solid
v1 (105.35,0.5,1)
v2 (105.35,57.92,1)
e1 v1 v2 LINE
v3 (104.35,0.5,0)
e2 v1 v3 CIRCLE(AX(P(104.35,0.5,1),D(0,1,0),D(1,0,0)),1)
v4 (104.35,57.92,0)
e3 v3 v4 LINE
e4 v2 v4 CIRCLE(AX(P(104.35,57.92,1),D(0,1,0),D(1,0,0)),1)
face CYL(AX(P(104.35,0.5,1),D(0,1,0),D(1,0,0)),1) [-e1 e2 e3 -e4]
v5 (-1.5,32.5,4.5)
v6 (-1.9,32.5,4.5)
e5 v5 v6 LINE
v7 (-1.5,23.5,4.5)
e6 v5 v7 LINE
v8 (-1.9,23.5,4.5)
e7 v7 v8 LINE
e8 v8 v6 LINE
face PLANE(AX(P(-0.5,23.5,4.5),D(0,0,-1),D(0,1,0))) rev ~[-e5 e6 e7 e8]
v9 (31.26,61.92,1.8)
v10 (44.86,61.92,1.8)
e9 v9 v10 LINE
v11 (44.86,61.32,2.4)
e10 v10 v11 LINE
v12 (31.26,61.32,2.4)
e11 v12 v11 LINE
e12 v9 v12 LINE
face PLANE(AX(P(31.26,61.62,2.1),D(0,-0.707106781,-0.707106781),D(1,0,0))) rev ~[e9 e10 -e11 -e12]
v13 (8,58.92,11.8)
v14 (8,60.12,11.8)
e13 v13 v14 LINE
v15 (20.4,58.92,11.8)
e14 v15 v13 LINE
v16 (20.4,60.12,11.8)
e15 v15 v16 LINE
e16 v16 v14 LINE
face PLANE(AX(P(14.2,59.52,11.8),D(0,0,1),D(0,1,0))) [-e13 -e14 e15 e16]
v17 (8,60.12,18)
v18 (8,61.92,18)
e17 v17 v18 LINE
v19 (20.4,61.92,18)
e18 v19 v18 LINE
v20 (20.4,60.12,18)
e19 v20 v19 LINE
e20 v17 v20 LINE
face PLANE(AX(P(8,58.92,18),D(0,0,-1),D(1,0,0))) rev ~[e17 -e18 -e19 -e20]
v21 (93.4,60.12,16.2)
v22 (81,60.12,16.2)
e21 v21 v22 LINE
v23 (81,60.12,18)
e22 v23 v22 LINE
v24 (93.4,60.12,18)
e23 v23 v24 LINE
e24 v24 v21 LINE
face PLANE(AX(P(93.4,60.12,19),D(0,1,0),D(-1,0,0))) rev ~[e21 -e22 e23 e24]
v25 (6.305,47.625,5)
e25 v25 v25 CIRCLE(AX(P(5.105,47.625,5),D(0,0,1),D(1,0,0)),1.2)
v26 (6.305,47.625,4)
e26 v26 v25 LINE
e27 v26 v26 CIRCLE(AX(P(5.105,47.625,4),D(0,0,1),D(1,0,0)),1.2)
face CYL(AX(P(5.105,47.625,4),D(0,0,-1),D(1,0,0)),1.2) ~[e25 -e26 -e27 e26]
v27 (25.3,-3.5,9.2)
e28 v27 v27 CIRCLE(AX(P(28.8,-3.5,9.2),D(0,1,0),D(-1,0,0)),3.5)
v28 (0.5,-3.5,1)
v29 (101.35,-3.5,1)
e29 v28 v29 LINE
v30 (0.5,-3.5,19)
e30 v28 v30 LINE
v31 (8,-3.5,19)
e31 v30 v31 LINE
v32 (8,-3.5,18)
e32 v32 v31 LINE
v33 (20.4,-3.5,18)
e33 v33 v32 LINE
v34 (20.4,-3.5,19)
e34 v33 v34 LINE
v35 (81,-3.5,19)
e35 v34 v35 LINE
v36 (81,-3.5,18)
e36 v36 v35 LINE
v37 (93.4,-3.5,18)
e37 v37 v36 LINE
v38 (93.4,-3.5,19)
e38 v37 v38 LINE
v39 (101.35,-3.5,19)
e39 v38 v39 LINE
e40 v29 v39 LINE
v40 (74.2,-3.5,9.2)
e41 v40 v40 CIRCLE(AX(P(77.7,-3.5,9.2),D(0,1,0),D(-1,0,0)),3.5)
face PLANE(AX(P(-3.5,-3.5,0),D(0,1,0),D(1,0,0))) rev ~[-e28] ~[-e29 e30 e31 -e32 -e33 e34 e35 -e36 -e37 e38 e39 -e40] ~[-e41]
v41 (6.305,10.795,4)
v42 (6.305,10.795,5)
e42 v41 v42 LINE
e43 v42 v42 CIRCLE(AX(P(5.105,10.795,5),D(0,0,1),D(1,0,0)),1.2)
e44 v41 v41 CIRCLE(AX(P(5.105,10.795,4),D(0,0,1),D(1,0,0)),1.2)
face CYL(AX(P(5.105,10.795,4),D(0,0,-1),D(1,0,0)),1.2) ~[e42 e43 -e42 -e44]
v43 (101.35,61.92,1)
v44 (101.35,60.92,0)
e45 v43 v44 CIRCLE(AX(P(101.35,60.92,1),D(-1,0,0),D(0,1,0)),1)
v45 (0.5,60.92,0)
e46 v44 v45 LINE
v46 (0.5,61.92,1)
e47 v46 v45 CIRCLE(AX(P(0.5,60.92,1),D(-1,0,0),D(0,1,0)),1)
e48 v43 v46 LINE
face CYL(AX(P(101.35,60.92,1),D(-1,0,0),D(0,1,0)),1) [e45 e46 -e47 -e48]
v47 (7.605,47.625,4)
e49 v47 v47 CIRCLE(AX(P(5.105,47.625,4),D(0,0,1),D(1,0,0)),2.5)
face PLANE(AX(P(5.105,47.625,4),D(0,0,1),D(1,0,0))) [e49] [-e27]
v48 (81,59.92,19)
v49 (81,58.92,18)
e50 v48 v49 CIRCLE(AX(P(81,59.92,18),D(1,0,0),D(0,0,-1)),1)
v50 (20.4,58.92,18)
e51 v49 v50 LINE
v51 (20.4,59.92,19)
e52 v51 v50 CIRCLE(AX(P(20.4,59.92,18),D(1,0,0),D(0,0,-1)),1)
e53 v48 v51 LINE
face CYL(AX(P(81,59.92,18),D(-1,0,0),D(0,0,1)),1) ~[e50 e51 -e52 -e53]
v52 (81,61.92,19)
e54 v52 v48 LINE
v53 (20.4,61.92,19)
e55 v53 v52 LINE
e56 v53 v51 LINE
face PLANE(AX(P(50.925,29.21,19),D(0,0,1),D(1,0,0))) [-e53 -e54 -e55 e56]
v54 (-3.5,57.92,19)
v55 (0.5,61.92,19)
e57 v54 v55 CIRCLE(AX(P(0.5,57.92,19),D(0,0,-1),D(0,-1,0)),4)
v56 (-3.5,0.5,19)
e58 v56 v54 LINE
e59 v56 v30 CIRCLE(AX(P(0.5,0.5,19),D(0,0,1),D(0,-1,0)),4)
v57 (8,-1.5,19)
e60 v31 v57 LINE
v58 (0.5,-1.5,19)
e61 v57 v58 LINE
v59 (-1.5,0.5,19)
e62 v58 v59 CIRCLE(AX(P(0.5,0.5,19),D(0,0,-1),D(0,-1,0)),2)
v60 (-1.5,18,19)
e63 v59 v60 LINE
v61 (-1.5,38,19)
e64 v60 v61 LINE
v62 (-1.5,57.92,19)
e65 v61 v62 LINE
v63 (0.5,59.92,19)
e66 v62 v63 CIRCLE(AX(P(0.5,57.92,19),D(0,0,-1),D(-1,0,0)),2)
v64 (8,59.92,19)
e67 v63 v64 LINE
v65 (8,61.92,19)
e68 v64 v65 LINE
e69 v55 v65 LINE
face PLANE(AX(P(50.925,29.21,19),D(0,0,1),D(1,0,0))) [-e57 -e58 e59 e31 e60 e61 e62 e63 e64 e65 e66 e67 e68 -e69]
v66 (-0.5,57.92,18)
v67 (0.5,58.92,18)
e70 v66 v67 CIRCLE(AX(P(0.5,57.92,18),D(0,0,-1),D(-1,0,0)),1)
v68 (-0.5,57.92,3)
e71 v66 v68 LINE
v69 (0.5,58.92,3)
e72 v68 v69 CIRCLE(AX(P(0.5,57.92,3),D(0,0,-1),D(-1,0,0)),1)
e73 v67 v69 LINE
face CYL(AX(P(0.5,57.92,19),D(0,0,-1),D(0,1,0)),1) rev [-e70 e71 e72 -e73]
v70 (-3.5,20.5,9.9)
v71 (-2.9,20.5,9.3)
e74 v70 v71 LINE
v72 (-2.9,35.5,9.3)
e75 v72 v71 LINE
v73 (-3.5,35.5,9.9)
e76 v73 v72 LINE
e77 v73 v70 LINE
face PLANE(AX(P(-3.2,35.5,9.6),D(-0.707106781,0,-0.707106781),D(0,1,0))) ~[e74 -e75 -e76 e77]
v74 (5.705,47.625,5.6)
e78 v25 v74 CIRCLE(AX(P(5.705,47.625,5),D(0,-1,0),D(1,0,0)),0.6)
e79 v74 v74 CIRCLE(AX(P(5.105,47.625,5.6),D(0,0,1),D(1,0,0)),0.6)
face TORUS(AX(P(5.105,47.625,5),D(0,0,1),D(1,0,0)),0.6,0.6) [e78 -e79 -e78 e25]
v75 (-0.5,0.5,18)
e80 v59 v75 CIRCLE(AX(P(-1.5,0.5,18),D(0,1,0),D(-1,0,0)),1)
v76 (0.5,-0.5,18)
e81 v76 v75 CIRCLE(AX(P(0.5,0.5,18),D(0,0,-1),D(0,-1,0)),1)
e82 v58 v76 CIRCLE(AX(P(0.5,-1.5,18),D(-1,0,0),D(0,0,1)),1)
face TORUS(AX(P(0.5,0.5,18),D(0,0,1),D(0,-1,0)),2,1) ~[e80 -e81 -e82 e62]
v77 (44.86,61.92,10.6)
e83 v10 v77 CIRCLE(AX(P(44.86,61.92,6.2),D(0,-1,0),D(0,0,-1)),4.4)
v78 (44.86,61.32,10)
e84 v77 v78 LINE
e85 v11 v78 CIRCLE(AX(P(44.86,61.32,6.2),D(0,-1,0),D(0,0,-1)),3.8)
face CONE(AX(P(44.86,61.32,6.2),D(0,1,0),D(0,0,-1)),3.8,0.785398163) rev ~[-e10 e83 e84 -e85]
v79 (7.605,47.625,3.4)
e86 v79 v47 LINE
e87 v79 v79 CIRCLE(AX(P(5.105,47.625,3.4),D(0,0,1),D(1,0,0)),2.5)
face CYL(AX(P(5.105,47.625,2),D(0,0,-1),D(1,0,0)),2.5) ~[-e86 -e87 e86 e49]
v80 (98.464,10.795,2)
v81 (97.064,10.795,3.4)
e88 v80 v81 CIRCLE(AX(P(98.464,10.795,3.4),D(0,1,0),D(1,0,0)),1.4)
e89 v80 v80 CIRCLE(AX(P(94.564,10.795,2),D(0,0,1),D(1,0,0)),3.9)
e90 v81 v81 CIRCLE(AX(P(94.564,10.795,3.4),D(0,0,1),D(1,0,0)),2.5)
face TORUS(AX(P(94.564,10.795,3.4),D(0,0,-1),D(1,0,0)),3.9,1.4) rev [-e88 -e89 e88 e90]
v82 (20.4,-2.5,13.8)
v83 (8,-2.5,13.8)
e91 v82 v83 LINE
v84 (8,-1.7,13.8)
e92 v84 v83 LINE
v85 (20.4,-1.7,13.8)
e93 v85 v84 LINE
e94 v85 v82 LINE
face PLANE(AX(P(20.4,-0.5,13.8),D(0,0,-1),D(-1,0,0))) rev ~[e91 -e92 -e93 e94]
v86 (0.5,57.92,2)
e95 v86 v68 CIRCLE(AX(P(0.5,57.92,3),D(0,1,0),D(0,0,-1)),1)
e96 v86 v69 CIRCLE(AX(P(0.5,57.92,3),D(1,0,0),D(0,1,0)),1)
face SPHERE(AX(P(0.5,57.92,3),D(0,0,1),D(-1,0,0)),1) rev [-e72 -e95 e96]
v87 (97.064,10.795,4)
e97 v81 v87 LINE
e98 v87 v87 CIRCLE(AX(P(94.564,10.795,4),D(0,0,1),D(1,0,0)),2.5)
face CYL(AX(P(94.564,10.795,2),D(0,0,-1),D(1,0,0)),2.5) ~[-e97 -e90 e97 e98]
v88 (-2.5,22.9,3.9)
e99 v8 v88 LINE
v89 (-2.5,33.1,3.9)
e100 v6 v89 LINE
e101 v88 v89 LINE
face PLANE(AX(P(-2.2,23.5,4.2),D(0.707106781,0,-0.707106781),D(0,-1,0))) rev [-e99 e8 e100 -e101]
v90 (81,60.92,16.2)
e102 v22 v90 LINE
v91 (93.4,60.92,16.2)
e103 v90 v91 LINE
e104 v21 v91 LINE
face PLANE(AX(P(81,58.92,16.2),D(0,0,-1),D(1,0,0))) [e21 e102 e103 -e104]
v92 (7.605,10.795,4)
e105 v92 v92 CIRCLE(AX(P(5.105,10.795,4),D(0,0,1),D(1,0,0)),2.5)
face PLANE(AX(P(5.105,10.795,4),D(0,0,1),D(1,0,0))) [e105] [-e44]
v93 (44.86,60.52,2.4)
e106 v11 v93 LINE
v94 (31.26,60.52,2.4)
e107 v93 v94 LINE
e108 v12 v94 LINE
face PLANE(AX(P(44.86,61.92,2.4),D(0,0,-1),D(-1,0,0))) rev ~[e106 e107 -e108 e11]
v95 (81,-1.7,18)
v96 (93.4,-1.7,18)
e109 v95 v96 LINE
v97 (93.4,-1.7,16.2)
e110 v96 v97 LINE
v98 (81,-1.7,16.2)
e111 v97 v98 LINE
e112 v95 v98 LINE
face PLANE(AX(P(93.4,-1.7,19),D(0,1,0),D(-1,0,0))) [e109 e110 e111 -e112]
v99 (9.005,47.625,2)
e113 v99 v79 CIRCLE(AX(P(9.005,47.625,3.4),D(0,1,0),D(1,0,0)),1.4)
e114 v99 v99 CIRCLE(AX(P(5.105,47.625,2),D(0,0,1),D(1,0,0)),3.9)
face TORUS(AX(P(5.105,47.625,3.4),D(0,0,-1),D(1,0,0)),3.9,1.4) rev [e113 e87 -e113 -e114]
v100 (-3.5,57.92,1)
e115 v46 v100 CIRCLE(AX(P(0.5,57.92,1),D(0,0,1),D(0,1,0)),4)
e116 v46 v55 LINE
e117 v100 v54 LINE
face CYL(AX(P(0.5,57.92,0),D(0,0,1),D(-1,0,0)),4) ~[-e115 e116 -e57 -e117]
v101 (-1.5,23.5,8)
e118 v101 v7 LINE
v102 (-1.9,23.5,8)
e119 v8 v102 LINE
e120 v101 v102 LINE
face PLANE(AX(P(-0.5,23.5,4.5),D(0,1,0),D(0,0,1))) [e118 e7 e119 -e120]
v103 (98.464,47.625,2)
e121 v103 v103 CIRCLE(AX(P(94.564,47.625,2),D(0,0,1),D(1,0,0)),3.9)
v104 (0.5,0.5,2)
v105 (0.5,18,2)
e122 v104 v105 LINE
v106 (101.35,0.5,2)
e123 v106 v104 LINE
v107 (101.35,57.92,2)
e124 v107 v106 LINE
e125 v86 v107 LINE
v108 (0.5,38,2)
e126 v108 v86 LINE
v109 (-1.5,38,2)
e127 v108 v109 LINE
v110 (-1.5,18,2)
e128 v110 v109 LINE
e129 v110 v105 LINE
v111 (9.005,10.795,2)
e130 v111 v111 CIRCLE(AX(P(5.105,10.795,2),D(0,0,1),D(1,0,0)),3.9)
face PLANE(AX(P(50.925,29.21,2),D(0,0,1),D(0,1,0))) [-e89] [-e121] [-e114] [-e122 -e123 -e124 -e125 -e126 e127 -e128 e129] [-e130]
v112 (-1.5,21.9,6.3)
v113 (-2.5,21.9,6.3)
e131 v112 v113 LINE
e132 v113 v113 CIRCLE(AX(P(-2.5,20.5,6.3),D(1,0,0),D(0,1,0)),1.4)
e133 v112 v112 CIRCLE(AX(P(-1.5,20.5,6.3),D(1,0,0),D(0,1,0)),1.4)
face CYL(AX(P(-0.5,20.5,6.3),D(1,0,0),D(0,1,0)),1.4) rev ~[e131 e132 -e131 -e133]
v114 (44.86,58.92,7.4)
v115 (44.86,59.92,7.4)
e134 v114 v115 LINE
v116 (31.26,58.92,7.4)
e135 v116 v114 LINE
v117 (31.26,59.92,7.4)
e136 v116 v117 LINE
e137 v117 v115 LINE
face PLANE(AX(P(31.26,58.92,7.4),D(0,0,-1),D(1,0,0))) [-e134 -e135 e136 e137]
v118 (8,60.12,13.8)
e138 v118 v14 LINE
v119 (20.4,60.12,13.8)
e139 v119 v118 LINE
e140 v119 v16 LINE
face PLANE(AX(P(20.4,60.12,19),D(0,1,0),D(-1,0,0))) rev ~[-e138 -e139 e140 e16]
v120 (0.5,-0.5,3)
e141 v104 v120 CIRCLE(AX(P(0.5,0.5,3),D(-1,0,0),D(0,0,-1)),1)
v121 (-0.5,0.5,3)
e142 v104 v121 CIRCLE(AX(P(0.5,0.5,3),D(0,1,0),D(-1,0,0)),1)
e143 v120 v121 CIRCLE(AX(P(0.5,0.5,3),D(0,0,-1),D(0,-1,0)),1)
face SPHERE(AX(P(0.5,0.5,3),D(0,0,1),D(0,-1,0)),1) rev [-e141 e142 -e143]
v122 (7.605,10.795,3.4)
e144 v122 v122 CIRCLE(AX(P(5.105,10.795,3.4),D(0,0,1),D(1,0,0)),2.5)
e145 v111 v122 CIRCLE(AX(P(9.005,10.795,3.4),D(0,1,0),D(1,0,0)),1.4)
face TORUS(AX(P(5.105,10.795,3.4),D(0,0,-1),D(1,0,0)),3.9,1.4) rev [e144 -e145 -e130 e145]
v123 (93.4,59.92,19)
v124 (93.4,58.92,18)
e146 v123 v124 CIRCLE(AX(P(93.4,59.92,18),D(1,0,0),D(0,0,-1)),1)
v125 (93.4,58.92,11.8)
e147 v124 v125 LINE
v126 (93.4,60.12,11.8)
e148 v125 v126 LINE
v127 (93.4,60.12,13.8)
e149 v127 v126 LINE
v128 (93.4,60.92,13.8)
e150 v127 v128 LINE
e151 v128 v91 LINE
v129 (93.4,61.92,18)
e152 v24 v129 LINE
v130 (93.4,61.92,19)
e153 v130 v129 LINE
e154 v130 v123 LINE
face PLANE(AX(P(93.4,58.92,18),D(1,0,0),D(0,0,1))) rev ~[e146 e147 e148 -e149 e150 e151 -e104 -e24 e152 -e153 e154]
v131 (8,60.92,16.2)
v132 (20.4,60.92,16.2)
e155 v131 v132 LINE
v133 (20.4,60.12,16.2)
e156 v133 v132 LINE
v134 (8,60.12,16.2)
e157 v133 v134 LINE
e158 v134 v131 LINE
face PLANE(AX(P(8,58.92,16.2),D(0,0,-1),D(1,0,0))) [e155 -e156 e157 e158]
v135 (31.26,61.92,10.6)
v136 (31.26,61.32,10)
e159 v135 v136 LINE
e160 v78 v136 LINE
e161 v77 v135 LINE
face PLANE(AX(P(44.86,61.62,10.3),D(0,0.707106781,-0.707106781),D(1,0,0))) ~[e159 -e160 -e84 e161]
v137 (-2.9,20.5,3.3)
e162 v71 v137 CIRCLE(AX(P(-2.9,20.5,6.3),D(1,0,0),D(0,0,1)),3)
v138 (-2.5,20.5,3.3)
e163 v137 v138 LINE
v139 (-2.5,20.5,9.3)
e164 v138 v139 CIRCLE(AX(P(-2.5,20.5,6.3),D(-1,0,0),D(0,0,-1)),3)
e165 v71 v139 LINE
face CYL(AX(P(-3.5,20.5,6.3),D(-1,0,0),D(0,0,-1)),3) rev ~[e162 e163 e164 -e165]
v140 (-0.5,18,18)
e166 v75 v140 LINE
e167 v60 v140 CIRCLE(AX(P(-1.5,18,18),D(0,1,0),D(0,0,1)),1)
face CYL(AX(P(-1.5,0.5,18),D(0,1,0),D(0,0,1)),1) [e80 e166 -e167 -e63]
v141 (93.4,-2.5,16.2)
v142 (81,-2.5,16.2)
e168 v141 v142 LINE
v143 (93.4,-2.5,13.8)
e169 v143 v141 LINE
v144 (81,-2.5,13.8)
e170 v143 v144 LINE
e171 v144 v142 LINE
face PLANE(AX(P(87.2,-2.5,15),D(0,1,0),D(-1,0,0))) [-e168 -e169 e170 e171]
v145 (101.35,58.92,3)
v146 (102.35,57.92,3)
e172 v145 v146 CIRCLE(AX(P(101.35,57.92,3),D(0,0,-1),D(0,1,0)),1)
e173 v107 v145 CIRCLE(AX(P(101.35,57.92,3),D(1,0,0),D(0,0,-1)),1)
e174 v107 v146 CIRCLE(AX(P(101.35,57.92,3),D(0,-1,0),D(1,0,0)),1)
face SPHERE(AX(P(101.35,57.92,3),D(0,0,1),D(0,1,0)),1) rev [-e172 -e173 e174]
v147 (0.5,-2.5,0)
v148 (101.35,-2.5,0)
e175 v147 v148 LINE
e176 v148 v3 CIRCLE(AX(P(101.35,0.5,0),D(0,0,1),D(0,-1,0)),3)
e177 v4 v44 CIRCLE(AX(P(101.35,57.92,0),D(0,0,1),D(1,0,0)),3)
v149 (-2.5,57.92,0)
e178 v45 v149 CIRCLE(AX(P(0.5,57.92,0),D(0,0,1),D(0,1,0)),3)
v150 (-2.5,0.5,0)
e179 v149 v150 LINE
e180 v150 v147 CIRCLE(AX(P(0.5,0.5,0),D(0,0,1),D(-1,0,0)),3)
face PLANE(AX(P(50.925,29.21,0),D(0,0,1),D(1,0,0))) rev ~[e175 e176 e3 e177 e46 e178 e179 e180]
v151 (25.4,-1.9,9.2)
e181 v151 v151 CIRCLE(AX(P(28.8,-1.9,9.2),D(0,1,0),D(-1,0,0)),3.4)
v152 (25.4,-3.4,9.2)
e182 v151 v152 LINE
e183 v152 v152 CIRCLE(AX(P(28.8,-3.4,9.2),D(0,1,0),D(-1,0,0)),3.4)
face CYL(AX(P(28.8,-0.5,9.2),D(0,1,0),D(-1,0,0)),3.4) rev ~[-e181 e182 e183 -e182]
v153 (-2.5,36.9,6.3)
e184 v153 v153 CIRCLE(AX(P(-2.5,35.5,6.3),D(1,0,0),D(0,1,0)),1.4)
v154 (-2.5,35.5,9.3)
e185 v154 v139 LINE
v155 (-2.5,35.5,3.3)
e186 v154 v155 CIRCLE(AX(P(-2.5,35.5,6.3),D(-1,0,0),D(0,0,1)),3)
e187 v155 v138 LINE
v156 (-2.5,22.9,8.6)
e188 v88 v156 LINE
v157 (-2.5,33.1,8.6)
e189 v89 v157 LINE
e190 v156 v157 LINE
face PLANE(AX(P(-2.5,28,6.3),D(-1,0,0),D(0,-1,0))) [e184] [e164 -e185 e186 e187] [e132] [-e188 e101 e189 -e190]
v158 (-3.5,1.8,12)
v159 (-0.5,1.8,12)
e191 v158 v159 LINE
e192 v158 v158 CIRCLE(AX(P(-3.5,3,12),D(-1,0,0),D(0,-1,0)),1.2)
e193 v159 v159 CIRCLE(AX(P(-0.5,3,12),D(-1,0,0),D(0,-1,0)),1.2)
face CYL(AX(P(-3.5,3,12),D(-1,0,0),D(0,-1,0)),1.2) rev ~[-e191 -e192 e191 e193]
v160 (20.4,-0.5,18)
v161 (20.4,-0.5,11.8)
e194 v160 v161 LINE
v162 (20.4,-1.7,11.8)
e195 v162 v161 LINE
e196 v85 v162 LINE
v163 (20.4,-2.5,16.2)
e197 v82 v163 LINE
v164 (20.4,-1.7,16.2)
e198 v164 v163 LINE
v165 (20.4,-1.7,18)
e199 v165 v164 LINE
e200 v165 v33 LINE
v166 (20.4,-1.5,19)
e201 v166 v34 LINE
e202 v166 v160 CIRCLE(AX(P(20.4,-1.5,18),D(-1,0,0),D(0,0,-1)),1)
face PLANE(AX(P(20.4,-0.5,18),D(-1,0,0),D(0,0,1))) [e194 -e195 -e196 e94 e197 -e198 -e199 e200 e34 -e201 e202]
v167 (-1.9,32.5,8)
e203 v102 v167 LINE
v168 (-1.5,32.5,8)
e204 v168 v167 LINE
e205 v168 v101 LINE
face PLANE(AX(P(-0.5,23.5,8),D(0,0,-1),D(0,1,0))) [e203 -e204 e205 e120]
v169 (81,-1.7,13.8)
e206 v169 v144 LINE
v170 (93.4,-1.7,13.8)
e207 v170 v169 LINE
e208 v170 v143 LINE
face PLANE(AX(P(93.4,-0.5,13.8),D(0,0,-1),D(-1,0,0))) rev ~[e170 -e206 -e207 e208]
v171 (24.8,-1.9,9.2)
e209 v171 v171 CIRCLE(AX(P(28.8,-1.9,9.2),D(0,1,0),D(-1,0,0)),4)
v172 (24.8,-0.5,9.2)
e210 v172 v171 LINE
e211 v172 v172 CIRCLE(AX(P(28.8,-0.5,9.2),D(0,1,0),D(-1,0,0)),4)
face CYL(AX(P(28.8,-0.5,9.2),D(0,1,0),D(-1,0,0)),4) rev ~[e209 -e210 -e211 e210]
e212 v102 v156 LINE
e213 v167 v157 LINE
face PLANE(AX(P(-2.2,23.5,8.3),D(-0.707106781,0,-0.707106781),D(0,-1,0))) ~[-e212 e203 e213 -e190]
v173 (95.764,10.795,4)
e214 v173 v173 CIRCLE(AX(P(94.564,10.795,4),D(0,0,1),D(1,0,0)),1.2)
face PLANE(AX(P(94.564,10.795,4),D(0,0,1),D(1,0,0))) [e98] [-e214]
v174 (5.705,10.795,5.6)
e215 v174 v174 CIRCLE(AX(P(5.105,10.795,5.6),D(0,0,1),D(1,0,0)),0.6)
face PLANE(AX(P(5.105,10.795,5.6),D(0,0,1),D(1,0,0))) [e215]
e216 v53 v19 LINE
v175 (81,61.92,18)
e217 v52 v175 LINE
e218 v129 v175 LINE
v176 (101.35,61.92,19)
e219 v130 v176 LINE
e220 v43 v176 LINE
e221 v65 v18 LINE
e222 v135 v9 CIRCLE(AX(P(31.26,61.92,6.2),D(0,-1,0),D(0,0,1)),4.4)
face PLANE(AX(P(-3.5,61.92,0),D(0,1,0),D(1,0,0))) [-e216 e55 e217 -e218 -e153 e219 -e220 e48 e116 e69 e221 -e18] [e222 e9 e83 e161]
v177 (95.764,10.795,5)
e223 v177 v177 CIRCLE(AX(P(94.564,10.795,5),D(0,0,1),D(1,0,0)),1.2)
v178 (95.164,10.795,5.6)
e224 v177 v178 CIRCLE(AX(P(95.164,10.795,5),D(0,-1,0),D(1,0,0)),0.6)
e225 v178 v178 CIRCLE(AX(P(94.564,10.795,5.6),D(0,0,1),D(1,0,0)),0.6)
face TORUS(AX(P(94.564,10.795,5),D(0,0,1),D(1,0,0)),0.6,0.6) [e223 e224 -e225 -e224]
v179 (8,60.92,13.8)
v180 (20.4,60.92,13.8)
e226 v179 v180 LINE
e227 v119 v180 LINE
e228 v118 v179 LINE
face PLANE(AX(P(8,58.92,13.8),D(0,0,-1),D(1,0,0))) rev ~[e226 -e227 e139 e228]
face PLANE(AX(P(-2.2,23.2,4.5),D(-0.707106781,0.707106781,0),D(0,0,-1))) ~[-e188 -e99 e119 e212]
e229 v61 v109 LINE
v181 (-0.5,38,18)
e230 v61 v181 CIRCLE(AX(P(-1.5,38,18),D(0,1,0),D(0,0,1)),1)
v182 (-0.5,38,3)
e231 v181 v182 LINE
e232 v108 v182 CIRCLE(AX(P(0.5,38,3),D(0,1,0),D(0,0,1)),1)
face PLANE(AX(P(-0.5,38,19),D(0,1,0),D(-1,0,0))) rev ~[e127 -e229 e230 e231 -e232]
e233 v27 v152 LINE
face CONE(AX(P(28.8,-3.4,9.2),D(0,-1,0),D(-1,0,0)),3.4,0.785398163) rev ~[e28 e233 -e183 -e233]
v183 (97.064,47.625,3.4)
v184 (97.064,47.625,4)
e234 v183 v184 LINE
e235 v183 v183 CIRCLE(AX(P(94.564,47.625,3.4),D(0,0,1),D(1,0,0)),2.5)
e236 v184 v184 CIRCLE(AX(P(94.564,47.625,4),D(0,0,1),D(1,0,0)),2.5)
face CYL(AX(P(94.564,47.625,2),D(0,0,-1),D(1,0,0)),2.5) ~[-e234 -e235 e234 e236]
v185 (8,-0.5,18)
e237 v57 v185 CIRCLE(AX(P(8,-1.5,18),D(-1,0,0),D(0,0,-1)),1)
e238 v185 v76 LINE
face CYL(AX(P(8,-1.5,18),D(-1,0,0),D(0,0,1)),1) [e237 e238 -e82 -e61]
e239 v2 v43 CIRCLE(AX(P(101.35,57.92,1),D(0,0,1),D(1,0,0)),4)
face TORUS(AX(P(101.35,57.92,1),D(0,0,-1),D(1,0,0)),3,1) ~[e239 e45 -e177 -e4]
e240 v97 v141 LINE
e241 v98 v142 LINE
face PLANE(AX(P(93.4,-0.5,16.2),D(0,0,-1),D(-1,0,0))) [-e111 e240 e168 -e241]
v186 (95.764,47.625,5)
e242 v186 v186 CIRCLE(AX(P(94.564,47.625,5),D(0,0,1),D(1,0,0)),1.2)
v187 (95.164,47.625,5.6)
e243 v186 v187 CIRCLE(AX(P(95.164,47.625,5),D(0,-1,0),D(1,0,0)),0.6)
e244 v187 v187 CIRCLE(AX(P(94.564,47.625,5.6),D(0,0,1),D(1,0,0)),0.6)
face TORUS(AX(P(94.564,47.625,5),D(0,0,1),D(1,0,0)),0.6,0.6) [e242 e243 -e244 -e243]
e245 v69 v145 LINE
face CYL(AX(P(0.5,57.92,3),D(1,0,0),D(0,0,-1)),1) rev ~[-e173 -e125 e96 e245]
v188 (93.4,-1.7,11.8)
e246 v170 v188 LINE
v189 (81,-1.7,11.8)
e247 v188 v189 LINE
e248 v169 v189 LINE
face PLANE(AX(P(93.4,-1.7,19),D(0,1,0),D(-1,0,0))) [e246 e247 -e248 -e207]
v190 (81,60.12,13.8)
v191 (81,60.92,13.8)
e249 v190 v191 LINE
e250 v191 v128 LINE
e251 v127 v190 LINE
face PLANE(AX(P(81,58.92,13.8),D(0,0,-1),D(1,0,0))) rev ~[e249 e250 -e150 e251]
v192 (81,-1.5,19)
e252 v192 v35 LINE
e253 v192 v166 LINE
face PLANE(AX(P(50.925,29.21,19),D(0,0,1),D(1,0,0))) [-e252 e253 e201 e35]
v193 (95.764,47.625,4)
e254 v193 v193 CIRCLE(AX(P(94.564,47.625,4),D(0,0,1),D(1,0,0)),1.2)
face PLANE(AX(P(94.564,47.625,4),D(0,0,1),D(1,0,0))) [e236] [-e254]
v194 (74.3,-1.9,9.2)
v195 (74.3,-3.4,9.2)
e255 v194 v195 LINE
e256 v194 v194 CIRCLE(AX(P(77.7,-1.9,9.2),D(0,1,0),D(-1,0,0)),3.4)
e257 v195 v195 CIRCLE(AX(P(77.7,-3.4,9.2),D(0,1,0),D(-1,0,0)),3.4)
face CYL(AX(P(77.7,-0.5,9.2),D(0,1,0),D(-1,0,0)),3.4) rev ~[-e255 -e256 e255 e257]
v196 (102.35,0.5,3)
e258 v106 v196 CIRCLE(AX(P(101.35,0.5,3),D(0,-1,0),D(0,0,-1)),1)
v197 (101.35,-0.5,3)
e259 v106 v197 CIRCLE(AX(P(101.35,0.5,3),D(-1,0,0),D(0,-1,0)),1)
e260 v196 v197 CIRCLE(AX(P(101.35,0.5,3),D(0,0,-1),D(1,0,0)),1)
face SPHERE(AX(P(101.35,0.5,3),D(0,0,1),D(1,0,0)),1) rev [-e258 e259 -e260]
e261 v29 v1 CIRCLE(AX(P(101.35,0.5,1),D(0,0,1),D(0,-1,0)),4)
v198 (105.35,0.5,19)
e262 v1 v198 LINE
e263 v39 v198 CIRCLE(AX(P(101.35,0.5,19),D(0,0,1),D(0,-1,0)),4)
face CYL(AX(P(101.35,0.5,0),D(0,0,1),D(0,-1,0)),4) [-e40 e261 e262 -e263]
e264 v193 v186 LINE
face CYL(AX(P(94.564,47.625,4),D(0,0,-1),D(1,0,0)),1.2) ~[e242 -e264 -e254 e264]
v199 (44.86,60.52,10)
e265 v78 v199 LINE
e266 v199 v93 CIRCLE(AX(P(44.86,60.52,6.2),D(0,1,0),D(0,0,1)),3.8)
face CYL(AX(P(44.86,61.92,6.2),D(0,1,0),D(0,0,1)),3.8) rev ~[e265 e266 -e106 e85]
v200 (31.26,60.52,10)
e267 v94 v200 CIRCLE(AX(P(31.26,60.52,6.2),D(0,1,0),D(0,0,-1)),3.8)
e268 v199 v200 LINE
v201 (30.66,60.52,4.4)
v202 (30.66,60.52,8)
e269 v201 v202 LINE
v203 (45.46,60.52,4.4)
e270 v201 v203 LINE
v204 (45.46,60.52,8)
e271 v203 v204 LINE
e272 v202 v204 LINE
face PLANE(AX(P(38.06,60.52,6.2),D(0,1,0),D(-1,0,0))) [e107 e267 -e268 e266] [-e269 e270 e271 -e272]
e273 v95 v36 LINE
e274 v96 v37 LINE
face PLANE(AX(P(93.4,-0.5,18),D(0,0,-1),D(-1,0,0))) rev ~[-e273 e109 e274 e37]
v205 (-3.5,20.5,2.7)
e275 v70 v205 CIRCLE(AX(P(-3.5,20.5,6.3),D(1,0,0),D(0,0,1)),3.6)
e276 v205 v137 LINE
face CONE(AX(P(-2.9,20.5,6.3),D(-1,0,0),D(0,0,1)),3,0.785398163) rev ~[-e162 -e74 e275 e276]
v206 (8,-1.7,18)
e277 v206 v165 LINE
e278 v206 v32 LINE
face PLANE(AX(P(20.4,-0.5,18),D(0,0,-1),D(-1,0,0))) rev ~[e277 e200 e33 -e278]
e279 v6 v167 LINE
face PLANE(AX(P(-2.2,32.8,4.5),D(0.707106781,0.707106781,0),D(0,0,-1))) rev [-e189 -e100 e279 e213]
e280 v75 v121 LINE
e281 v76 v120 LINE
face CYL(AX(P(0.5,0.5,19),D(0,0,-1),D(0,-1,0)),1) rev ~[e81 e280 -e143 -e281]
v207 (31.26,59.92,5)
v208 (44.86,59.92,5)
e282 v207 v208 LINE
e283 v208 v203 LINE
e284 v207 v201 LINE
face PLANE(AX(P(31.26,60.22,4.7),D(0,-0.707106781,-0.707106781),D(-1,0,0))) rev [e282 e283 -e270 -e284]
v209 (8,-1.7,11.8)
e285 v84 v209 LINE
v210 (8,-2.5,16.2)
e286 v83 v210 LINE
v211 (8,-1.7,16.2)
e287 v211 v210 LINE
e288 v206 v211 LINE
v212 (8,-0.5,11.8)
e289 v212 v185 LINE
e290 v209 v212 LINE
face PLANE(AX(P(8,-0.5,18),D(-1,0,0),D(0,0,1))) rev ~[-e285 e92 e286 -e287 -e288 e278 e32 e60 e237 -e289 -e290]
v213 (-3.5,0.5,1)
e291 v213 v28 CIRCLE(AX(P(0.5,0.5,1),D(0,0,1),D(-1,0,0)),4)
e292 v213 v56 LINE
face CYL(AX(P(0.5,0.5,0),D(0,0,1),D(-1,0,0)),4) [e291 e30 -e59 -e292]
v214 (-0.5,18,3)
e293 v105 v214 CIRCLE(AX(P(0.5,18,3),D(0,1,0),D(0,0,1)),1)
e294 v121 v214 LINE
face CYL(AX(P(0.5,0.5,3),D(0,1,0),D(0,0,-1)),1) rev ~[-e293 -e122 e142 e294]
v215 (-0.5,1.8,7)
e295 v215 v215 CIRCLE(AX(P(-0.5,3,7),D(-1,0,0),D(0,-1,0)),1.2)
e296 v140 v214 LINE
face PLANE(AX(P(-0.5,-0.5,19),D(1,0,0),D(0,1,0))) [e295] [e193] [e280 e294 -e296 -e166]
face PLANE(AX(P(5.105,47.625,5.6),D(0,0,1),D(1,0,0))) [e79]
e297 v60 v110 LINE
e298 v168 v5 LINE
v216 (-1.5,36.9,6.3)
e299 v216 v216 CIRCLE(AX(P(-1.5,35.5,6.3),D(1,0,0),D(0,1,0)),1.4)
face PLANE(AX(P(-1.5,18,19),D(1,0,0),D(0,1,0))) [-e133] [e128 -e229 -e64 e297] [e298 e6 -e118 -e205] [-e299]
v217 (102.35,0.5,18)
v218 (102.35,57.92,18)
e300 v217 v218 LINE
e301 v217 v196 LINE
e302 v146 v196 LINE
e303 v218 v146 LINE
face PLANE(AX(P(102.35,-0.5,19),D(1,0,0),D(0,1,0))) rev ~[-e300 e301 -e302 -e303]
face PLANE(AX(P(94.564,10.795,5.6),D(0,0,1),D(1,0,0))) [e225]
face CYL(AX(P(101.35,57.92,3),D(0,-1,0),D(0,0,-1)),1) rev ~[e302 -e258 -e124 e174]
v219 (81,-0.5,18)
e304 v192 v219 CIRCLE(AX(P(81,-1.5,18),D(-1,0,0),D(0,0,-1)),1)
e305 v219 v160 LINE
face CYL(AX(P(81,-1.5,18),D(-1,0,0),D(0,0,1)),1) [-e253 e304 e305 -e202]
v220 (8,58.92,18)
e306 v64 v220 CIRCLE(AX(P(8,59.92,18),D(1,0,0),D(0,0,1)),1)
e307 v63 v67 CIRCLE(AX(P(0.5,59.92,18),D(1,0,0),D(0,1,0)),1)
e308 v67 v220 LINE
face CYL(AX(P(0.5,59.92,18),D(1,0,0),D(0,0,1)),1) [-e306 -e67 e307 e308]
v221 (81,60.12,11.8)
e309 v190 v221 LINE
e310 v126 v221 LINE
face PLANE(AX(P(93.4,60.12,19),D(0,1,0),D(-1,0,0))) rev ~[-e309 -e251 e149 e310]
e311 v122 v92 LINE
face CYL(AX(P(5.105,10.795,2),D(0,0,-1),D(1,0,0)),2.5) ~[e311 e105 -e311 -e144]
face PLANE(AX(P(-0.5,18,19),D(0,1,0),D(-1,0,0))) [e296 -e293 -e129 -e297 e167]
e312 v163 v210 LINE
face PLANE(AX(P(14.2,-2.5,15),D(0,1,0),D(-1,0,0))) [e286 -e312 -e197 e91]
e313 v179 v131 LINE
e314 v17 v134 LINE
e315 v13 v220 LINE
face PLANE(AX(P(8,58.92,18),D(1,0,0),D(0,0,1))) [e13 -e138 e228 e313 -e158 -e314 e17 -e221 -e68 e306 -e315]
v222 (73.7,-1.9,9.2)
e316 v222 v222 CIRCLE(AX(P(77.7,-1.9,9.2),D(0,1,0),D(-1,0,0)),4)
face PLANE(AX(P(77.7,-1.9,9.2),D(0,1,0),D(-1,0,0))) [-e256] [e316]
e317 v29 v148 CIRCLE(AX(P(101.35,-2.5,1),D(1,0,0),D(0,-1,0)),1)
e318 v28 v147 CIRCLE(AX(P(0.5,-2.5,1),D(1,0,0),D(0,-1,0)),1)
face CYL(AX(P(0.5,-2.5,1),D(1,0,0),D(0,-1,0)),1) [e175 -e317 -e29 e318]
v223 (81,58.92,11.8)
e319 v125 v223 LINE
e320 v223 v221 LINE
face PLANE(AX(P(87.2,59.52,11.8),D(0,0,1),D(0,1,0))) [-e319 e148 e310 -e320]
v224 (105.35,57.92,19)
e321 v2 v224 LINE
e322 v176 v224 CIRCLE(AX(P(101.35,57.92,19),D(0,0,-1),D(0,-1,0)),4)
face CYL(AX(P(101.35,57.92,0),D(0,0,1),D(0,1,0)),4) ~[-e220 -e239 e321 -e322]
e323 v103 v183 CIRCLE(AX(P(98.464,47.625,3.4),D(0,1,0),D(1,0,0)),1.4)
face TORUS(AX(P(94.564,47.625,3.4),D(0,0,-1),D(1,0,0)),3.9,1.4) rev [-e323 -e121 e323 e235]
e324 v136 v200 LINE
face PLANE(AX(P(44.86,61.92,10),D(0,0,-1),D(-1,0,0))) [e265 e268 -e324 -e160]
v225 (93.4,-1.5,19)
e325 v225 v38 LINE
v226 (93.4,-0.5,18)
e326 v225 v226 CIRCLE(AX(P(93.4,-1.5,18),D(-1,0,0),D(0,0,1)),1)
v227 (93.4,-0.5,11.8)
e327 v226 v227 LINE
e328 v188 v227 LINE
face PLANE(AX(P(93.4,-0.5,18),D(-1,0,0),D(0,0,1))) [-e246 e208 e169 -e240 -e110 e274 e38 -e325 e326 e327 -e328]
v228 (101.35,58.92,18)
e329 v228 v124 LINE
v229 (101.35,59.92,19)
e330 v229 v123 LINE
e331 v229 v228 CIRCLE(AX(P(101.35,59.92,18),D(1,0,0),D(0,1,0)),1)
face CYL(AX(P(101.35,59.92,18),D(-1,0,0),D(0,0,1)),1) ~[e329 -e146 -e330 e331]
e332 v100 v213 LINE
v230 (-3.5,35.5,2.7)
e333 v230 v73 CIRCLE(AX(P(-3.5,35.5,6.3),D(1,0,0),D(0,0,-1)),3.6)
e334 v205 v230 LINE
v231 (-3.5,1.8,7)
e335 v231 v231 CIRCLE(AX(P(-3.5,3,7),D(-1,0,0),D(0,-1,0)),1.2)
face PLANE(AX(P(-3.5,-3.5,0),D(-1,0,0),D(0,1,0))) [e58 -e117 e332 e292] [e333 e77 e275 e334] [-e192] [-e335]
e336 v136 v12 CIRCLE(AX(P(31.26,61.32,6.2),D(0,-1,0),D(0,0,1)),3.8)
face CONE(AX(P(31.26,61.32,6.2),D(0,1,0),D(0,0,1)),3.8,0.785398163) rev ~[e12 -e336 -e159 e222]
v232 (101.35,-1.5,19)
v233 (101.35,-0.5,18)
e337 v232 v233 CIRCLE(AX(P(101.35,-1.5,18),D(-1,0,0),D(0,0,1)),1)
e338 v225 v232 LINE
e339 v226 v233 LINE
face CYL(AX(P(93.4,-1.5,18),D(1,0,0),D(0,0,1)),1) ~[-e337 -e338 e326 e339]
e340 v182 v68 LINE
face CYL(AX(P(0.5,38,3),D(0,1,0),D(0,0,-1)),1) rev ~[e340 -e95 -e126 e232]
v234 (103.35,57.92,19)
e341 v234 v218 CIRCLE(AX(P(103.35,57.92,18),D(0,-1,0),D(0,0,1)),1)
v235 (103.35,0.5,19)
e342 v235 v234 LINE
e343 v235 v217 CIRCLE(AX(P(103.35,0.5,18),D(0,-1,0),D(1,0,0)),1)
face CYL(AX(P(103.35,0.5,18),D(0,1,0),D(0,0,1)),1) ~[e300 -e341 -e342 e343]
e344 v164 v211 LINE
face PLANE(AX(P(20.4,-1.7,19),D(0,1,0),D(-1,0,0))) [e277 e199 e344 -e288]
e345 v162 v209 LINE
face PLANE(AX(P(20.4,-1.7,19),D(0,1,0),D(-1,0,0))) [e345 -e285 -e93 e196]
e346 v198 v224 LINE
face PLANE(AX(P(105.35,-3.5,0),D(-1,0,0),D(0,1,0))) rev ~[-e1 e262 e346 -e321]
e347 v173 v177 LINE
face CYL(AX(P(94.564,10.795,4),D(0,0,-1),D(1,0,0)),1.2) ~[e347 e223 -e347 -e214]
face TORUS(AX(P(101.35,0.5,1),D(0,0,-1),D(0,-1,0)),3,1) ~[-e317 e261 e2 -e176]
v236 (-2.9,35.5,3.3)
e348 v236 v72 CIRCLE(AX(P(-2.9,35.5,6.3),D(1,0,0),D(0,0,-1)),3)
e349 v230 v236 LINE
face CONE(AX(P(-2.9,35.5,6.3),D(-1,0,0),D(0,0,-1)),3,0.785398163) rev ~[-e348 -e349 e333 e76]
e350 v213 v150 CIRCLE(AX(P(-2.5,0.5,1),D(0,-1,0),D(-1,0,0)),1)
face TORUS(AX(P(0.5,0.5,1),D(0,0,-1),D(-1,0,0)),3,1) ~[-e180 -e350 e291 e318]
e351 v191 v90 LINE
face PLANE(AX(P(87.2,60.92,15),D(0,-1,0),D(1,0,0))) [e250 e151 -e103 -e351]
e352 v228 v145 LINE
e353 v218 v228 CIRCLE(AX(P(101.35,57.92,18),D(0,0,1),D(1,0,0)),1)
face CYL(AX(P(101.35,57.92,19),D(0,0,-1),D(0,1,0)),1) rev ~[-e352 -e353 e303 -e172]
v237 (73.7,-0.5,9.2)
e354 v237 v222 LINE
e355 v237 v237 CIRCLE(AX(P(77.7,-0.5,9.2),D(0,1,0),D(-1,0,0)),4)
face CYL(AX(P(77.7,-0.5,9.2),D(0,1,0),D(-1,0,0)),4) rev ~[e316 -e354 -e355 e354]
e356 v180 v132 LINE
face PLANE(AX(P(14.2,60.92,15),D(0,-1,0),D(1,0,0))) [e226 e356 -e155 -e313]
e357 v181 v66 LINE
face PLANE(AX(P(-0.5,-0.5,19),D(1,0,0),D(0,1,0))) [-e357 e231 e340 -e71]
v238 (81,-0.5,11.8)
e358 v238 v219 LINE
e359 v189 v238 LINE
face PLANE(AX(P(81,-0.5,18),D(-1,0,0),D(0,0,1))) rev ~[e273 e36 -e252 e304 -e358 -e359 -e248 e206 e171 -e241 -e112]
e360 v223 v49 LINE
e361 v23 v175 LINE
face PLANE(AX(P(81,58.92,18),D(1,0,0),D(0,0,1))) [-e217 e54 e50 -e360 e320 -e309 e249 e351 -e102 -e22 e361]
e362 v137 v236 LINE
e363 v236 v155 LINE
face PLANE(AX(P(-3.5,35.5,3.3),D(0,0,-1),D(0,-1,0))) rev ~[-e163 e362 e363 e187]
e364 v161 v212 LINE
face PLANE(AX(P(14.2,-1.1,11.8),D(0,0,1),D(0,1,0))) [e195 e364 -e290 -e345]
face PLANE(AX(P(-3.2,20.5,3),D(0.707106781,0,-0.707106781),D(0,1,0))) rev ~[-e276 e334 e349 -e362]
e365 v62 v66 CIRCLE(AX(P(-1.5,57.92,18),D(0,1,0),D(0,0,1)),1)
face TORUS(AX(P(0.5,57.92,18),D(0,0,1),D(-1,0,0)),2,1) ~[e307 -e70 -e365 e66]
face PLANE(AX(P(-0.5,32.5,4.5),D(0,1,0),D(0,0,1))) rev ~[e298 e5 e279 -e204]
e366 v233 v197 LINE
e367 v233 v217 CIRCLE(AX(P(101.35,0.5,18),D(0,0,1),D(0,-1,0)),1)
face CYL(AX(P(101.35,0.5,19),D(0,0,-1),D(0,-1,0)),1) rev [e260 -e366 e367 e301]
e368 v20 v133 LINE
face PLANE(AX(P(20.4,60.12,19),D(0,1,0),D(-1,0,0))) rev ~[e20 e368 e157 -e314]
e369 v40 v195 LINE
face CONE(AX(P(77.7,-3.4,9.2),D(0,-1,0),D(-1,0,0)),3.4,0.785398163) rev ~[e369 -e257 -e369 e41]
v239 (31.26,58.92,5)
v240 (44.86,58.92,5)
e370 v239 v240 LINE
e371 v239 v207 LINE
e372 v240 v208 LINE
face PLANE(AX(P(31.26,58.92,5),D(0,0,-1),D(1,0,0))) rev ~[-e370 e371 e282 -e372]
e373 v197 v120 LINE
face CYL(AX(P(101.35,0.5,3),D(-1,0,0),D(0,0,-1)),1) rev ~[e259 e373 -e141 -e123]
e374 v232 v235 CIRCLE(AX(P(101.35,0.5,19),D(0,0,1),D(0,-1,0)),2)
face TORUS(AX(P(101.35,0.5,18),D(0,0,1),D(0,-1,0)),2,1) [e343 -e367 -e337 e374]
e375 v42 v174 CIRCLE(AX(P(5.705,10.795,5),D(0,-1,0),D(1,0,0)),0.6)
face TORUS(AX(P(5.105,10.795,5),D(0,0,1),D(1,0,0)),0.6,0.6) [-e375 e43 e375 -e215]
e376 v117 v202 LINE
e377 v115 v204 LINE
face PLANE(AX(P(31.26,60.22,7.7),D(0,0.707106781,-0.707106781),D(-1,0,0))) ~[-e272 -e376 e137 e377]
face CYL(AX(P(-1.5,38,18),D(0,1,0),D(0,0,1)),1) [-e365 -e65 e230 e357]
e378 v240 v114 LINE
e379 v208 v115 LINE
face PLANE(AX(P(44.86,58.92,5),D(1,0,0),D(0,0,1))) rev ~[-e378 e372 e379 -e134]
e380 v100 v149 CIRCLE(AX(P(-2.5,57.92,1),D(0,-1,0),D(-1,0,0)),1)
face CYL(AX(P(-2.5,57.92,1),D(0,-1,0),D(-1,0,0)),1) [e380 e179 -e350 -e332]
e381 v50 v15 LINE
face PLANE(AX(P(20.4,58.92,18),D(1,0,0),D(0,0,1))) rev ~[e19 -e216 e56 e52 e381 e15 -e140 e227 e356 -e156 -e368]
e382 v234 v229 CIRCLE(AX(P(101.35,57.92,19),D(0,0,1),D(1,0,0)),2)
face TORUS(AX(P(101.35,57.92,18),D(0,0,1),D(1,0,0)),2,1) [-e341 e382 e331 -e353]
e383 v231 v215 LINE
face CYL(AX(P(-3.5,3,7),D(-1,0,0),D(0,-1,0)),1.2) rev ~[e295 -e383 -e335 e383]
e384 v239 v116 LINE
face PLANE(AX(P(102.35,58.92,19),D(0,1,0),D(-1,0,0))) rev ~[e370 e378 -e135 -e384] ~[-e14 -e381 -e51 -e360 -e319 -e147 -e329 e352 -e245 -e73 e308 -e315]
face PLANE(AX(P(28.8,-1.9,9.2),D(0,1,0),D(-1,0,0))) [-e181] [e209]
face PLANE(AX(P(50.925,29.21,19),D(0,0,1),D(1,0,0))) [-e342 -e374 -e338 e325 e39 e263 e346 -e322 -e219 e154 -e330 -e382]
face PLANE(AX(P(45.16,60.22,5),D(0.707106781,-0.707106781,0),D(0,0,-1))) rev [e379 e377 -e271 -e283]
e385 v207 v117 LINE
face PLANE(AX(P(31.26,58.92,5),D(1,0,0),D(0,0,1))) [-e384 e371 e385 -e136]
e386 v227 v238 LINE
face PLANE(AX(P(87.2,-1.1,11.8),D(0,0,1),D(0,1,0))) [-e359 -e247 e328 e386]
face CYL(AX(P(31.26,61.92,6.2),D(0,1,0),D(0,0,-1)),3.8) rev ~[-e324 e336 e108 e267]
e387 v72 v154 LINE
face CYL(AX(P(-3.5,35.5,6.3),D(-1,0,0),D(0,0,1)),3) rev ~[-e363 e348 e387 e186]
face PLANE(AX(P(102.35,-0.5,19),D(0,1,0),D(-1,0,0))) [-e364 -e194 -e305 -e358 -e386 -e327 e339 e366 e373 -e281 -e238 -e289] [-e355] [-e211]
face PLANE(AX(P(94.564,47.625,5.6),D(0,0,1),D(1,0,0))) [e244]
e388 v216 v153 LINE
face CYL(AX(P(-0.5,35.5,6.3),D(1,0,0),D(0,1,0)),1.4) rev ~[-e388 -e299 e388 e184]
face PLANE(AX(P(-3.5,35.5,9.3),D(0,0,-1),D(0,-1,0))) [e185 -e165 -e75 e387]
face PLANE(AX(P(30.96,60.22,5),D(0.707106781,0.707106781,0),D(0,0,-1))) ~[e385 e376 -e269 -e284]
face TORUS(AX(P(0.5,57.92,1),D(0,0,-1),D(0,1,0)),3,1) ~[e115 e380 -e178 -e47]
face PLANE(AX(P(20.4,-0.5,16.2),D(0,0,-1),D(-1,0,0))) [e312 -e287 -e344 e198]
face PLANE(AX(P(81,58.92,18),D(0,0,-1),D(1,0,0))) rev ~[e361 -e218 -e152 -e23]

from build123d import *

# Parameters (mm, degrees)
SKETCH001_W     = 108.85
SKETCH001_H     = 65.42
PAD_DEPTH       = 19
SKETCH002_W     = 59.42
SKETCH002_H     = 102.85
POCKET_DEPTH    = 17
SKETCH003_R     = 2.5
PAD001_DEPTH    = 2
SKETCH004_R     = 1.2
PAD002_DEPTH    = 1.6
SKETCH005_W     = 12.4
SKETCH005_H     = 1
SKETCH005_W_2   = 13.6
SKETCH005_H_2   = 2.4
POCKET001_DEPTH = 3.001
SKETCH006_R     = 3.4
SKETCH006_W     = 12.4
SKETCH006_H     = 1
POCKET002_DEPTH = 3.001
SKETCH007_R     = 1.4
SKETCH007_W     = 9
SKETCH007_H     = 3.5
POCKET003_DEPTH = 3.001
SKETCH008_W     = 1.2
SKETCH008_H     = 12.4
POCKET004_DEPTH = 7.2
SKETCH009_W     = 12.4
SKETCH009_H     = 2.4
POCKET005_DEPTH = 2
SKETCH010_W     = 12.4
SKETCH010_H     = 2.4
POCKET006_DEPTH = 2
SKETCH011_R     = 4
POCKET007_DEPTH = 1.4
POCKET010_DEPTH = 1.4
POCKET011_DEPTH = 1
SKETCH028_W     = 20
SKETCH028_H     = 1
POCKET012_DEPTH = 17
FILLET001_R     = 4
FILLET002_R     = 1
FILLET003_R     = 1
CHAMFER_SIZE    = 0.6
CHAMFER001_SIZE = 0.6
CHAMFER002_SIZE = 0.1
FILLET010_R     = 1.4
FILLET013_R     = 1
FILLET014_R     = 1
FILLET016_R     = 0.6
SKETCH041_R     = 1.2
POCKET019_DEPTH = 3


with BuildPart() as part:
    # Sketch001 → Pad (new body)
    with BuildSketch(Plane.XY):
        with Locations((50.925, 29.21)):
            Rectangle(SKETCH001_W, SKETCH001_H)
    extrude(amount=PAD_DEPTH)

    # Sketch002 (on DatumPlane) → Pocket (cut)
    with BuildSketch(Plane(origin=(50.925, 29.21, 19), x_dir=(0, 1, 0), z_dir=(0, 0, 1))):
        Rectangle(SKETCH002_W, SKETCH002_H)
    extrude(amount=-POCKET_DEPTH, mode=Mode.SUBTRACT)

    # Sketch003 (on DatumPlane) → Pad001 (join)
    with BuildSketch(Plane.XY.offset(2)):
        with Locations((5.105, 47.625)):
            Circle(SKETCH003_R)
        with Locations((94.564, 47.625)):
            Circle(SKETCH003_R)
        with Locations((94.564, 10.795)):
            Circle(SKETCH003_R)
        with Locations((5.105, 10.795)):
            Circle(SKETCH003_R)
    extrude(amount=PAD001_DEPTH)

    # Sketch004 (on DatumPlane) → Pad002 (join)
    with BuildSketch(Plane.XY.offset(4)):
        with Locations((5.105, 47.625)):
            Circle(SKETCH004_R)
        with Locations((94.564, 47.625)):
            Circle(SKETCH004_R)
        with Locations((94.564, 10.795)):
            Circle(SKETCH004_R)
        with Locations((5.105, 10.795)):
            Circle(SKETCH004_R)
    extrude(amount=PAD002_DEPTH)

    # Sketch005 (on DatumPlane) → Pocket001 (cut, through all)
    with BuildSketch(Plane.XZ.offset(-58.92)):
        with Locations((14.2, 18.5)):
            Rectangle(SKETCH005_W, SKETCH005_H)
        with Locations((87.2, 18.5)):
            Rectangle(SKETCH005_W, SKETCH005_H)
        with Locations((38.06, 6.2)):
            Rectangle(SKETCH005_W_2, SKETCH005_H_2)
    extrude(amount=-POCKET001_DEPTH, mode=Mode.SUBTRACT)

    # Sketch006 (on DatumPlane) → Pocket002 (cut, through all)
    with BuildSketch(Plane(origin=(0, -0.5, 0), x_dir=(-1, 0, 0), z_dir=(0, 1, 0))):
        with Locations((-77.7, 9.2)):
            Circle(SKETCH006_R)
        with Locations((-28.8, 9.2)):
            Circle(SKETCH006_R)
        with Locations((-87.2, 18.5)):
            Rectangle(SKETCH006_W, SKETCH006_H)
        with Locations((-14.2, 18.5)):
            Rectangle(SKETCH006_W, SKETCH006_H)
    extrude(amount=-POCKET002_DEPTH, mode=Mode.SUBTRACT)

    # Sketch007 (on DatumPlane) → Pocket003 (cut, through all)
    with BuildSketch(Plane.YZ.offset(-0.5)):
        with Locations((20.5, 6.3)):
            Circle(SKETCH007_R)
        with Locations((35.5, 6.3)):
            Circle(SKETCH007_R)
        with Locations((28, 6.25)):
            Rectangle(SKETCH007_W, SKETCH007_H)
    extrude(amount=-POCKET003_DEPTH, mode=Mode.SUBTRACT)

    # Sketch008 (on DatumPlane) → Pocket004 (cut)
    with BuildSketch(Plane(origin=(50.925, 29.21, 19), x_dir=(0, 1, 0), z_dir=(0, 0, 1))):
        with Locations((-30.31, 36.725)):
            Rectangle(SKETCH008_W, SKETCH008_H)
        with Locations((30.31, 36.725)):
            Rectangle(SKETCH008_W, SKETCH008_H)
        with Locations((30.31, -36.275)):
            Rectangle(SKETCH008_W, SKETCH008_H)
        with Locations((-30.31, -36.275)):
            Rectangle(SKETCH008_W, SKETCH008_H)
    extrude(amount=-POCKET004_DEPTH, mode=Mode.SUBTRACT)

    # Sketch009 (on DatumPlane) → Pocket005 (cut)
    with BuildSketch(Plane.XZ.offset(-58.92)):
        with Locations((14.2, 15)):
            Rectangle(SKETCH009_W, SKETCH009_H)
        with Locations((87.2, 15)):
            Rectangle(SKETCH009_W, SKETCH009_H)
    extrude(amount=-POCKET005_DEPTH, mode=Mode.SUBTRACT)

    # Sketch010 (on DatumPlane) → Pocket006 (cut)
    with BuildSketch(Plane(origin=(0, -0.5, 0), x_dir=(-1, 0, 0), z_dir=(0, 1, 0))):
        with Locations((-87.2, 15)):
            Rectangle(SKETCH010_W, SKETCH010_H)
        with Locations((-14.2, 15)):
            Rectangle(SKETCH010_W, SKETCH010_H)
    extrude(amount=-POCKET006_DEPTH, mode=Mode.SUBTRACT)

    # Sketch011 (on DatumPlane) → Pocket007 (cut)
    with BuildSketch(Plane(origin=(0, -0.5, 0), x_dir=(-1, 0, 0), z_dir=(0, 1, 0))):
        with Locations((-77.7, 9.2)):
            Circle(SKETCH011_R)
        with Locations((-28.8, 9.2)):
            Circle(SKETCH011_R)
    extrude(amount=-POCKET007_DEPTH, mode=Mode.SUBTRACT)

    # Sketch024 (on Face1 of Pocket007) → Pocket010 (cut)
    with BuildSketch(Plane(origin=(0, 61.92, 0), x_dir=(-1, 0, 0), z_dir=(0, 1, 0))):
        with BuildLine():
            ThreePointArc((-44.86, 10), (-48.66, 6.2), (-44.86, 2.4))
            Line((-44.86, 2.4), (-31.26, 2.4))
            ThreePointArc((-31.26, 2.4), (-27.46, 6.2), (-31.26, 10))
            Line((-44.86, 10), (-31.26, 10))
        make_face()
    extrude(amount=-POCKET010_DEPTH, mode=Mode.SUBTRACT)

    # Sketch025 (on Face3 of Pocket010) → Pocket011 (cut)
    with BuildSketch(Plane(origin=(-3.5, 0, 0), x_dir=(0, -1, 0), z_dir=(-1, 0, 0))):
        with BuildLine():
            ThreePointArc((-35.5, 9.3), (-38.5, 6.3), (-35.5, 3.3))
            Line((-35.5, 3.3), (-20.5, 3.3))
            ThreePointArc((-20.5, 3.3), (-17.5, 6.3), (-20.5, 9.3))
            Line((-35.5, 9.3), (-20.5, 9.3))
        make_face()
    extrude(amount=-POCKET011_DEPTH, mode=Mode.SUBTRACT)

    # Sketch028 (on DatumPlane) → Pocket012 (cut)
    with BuildSketch(Plane(origin=(50.925, 29.21, 19), x_dir=(0, 1, 0), z_dir=(0, 0, 1))):
        with Locations((-1.21, 51.925)):
            Rectangle(SKETCH028_W, SKETCH028_H)
    extrude(amount=-POCKET012_DEPTH, mode=Mode.SUBTRACT)

    # Fillet001
    fillet001_edges = [part.edges().sort_by_distance(p)[0] for p in [
        (-3.5, -3.5, 9.5),
        (-3.5, 61.92, 9.5),
        (105.35, -3.5, 9.5),
        (105.35, 61.92, 9.5),
    ]]
    fillet(fillet001_edges, radius=FILLET001_R)

    # Fillet002
    fillet002_edges = [part.edges().sort_by_distance(p)[0] for p in [
        (-0.5, 58.92, 10.5),
        (102.35, 58.92, 10.5),
        (-0.5, -0.5, 10.5),
        (102.35, -0.5, 10.5),
    ]]
    fillet(fillet002_edges, radius=FILLET002_R)

    # Fillet003
    fillet003_edges = [part.edges().sort_by_distance(p)[0] for p in [
        (50.925, -3.5, 0),
    ]]
    fillet(fillet003_edges, radius=FILLET003_R)

    # Chamfer
    chamfer_edges = [part.edges().sort_by_distance(p)[0] for p in [
        (-3.5, 28, 9.3),
        (-2.5, 28, 8),
        (-2.5, 23.5, 6.25),
        (-2.5, 32.5, 6.25),
        (-2.5, 28, 4.5),
    ]]
    chamfer(chamfer_edges, length=CHAMFER_SIZE)

    # Chamfer001
    chamfer001_edges = [part.edges().sort_by_distance(p)[0] for p in [
        (38.06, 61.92, 10),
        (44.86, 60.52, 6.2),
        (38.06, 60.52, 7.4),
        (38.06, 60.52, 5),
        (31.26, 60.52, 6.2),
    ]]
    chamfer(chamfer001_edges, length=CHAMFER001_SIZE)

    # Chamfer002
    chamfer002_edges = [part.edges().sort_by_distance(p)[0] for p in [
        (81.1, -3.5, 9.2),
        (32.2, -3.5, 9.2),
    ]]
    chamfer(chamfer002_edges, length=CHAMFER002_SIZE)

    # Fillet010
    fillet010_edges = [part.edges().sort_by_distance(p)[0] for p in [
        (92.064, 10.795, 2),
        (2.605, 10.795, 2),
        (2.605, 47.625, 2),
        (92.064, 47.625, 2),
    ]]
    fillet(fillet010_edges, radius=FILLET010_R)

    # Fillet013
    fillet013_edges = [part.edges().sort_by_distance(p)[0] for p in [
        (50.925, -0.5, 2),
    ]]
    fillet(fillet013_edges, radius=FILLET013_R)

    # Fillet014
    fillet014_edges = [part.edges().sort_by_distance(p)[0] for p in [
        (102.35, 29.21, 19),
        (50.7, 58.92, 19),
        (-0.5, 9.25, 19),
        (50.7, -0.5, 19),
        (-0.5, 47.96, 19),
    ]]
    fillet(fillet014_edges, radius=FILLET014_R)

    # Fillet016
    fillet016_edges = [part.edges().sort_by_distance(p)[0] for p in [
        (93.364, 47.625, 5.6),
        (93.364, 10.795, 5.6),
        (3.905, 10.795, 5.6),
        (3.905, 47.625, 5.6),
    ]]
    fillet(fillet016_edges, radius=FILLET016_R)

    # Sketch041 (on Face95 of Fillet016) → Pocket019 (cut)
    with BuildSketch(Plane(origin=(-3.5, 0, 0), x_dir=(0, -1, 0), z_dir=(-1, 0, 0))):
        with Locations((-3, 7)):
            Circle(SKETCH041_R)
        with Locations((-3, 12)):
            Circle(SKETCH041_R)
    extrude(amount=-POCKET019_DEPTH, mode=Mode.SUBTRACT)


solid = part.part
